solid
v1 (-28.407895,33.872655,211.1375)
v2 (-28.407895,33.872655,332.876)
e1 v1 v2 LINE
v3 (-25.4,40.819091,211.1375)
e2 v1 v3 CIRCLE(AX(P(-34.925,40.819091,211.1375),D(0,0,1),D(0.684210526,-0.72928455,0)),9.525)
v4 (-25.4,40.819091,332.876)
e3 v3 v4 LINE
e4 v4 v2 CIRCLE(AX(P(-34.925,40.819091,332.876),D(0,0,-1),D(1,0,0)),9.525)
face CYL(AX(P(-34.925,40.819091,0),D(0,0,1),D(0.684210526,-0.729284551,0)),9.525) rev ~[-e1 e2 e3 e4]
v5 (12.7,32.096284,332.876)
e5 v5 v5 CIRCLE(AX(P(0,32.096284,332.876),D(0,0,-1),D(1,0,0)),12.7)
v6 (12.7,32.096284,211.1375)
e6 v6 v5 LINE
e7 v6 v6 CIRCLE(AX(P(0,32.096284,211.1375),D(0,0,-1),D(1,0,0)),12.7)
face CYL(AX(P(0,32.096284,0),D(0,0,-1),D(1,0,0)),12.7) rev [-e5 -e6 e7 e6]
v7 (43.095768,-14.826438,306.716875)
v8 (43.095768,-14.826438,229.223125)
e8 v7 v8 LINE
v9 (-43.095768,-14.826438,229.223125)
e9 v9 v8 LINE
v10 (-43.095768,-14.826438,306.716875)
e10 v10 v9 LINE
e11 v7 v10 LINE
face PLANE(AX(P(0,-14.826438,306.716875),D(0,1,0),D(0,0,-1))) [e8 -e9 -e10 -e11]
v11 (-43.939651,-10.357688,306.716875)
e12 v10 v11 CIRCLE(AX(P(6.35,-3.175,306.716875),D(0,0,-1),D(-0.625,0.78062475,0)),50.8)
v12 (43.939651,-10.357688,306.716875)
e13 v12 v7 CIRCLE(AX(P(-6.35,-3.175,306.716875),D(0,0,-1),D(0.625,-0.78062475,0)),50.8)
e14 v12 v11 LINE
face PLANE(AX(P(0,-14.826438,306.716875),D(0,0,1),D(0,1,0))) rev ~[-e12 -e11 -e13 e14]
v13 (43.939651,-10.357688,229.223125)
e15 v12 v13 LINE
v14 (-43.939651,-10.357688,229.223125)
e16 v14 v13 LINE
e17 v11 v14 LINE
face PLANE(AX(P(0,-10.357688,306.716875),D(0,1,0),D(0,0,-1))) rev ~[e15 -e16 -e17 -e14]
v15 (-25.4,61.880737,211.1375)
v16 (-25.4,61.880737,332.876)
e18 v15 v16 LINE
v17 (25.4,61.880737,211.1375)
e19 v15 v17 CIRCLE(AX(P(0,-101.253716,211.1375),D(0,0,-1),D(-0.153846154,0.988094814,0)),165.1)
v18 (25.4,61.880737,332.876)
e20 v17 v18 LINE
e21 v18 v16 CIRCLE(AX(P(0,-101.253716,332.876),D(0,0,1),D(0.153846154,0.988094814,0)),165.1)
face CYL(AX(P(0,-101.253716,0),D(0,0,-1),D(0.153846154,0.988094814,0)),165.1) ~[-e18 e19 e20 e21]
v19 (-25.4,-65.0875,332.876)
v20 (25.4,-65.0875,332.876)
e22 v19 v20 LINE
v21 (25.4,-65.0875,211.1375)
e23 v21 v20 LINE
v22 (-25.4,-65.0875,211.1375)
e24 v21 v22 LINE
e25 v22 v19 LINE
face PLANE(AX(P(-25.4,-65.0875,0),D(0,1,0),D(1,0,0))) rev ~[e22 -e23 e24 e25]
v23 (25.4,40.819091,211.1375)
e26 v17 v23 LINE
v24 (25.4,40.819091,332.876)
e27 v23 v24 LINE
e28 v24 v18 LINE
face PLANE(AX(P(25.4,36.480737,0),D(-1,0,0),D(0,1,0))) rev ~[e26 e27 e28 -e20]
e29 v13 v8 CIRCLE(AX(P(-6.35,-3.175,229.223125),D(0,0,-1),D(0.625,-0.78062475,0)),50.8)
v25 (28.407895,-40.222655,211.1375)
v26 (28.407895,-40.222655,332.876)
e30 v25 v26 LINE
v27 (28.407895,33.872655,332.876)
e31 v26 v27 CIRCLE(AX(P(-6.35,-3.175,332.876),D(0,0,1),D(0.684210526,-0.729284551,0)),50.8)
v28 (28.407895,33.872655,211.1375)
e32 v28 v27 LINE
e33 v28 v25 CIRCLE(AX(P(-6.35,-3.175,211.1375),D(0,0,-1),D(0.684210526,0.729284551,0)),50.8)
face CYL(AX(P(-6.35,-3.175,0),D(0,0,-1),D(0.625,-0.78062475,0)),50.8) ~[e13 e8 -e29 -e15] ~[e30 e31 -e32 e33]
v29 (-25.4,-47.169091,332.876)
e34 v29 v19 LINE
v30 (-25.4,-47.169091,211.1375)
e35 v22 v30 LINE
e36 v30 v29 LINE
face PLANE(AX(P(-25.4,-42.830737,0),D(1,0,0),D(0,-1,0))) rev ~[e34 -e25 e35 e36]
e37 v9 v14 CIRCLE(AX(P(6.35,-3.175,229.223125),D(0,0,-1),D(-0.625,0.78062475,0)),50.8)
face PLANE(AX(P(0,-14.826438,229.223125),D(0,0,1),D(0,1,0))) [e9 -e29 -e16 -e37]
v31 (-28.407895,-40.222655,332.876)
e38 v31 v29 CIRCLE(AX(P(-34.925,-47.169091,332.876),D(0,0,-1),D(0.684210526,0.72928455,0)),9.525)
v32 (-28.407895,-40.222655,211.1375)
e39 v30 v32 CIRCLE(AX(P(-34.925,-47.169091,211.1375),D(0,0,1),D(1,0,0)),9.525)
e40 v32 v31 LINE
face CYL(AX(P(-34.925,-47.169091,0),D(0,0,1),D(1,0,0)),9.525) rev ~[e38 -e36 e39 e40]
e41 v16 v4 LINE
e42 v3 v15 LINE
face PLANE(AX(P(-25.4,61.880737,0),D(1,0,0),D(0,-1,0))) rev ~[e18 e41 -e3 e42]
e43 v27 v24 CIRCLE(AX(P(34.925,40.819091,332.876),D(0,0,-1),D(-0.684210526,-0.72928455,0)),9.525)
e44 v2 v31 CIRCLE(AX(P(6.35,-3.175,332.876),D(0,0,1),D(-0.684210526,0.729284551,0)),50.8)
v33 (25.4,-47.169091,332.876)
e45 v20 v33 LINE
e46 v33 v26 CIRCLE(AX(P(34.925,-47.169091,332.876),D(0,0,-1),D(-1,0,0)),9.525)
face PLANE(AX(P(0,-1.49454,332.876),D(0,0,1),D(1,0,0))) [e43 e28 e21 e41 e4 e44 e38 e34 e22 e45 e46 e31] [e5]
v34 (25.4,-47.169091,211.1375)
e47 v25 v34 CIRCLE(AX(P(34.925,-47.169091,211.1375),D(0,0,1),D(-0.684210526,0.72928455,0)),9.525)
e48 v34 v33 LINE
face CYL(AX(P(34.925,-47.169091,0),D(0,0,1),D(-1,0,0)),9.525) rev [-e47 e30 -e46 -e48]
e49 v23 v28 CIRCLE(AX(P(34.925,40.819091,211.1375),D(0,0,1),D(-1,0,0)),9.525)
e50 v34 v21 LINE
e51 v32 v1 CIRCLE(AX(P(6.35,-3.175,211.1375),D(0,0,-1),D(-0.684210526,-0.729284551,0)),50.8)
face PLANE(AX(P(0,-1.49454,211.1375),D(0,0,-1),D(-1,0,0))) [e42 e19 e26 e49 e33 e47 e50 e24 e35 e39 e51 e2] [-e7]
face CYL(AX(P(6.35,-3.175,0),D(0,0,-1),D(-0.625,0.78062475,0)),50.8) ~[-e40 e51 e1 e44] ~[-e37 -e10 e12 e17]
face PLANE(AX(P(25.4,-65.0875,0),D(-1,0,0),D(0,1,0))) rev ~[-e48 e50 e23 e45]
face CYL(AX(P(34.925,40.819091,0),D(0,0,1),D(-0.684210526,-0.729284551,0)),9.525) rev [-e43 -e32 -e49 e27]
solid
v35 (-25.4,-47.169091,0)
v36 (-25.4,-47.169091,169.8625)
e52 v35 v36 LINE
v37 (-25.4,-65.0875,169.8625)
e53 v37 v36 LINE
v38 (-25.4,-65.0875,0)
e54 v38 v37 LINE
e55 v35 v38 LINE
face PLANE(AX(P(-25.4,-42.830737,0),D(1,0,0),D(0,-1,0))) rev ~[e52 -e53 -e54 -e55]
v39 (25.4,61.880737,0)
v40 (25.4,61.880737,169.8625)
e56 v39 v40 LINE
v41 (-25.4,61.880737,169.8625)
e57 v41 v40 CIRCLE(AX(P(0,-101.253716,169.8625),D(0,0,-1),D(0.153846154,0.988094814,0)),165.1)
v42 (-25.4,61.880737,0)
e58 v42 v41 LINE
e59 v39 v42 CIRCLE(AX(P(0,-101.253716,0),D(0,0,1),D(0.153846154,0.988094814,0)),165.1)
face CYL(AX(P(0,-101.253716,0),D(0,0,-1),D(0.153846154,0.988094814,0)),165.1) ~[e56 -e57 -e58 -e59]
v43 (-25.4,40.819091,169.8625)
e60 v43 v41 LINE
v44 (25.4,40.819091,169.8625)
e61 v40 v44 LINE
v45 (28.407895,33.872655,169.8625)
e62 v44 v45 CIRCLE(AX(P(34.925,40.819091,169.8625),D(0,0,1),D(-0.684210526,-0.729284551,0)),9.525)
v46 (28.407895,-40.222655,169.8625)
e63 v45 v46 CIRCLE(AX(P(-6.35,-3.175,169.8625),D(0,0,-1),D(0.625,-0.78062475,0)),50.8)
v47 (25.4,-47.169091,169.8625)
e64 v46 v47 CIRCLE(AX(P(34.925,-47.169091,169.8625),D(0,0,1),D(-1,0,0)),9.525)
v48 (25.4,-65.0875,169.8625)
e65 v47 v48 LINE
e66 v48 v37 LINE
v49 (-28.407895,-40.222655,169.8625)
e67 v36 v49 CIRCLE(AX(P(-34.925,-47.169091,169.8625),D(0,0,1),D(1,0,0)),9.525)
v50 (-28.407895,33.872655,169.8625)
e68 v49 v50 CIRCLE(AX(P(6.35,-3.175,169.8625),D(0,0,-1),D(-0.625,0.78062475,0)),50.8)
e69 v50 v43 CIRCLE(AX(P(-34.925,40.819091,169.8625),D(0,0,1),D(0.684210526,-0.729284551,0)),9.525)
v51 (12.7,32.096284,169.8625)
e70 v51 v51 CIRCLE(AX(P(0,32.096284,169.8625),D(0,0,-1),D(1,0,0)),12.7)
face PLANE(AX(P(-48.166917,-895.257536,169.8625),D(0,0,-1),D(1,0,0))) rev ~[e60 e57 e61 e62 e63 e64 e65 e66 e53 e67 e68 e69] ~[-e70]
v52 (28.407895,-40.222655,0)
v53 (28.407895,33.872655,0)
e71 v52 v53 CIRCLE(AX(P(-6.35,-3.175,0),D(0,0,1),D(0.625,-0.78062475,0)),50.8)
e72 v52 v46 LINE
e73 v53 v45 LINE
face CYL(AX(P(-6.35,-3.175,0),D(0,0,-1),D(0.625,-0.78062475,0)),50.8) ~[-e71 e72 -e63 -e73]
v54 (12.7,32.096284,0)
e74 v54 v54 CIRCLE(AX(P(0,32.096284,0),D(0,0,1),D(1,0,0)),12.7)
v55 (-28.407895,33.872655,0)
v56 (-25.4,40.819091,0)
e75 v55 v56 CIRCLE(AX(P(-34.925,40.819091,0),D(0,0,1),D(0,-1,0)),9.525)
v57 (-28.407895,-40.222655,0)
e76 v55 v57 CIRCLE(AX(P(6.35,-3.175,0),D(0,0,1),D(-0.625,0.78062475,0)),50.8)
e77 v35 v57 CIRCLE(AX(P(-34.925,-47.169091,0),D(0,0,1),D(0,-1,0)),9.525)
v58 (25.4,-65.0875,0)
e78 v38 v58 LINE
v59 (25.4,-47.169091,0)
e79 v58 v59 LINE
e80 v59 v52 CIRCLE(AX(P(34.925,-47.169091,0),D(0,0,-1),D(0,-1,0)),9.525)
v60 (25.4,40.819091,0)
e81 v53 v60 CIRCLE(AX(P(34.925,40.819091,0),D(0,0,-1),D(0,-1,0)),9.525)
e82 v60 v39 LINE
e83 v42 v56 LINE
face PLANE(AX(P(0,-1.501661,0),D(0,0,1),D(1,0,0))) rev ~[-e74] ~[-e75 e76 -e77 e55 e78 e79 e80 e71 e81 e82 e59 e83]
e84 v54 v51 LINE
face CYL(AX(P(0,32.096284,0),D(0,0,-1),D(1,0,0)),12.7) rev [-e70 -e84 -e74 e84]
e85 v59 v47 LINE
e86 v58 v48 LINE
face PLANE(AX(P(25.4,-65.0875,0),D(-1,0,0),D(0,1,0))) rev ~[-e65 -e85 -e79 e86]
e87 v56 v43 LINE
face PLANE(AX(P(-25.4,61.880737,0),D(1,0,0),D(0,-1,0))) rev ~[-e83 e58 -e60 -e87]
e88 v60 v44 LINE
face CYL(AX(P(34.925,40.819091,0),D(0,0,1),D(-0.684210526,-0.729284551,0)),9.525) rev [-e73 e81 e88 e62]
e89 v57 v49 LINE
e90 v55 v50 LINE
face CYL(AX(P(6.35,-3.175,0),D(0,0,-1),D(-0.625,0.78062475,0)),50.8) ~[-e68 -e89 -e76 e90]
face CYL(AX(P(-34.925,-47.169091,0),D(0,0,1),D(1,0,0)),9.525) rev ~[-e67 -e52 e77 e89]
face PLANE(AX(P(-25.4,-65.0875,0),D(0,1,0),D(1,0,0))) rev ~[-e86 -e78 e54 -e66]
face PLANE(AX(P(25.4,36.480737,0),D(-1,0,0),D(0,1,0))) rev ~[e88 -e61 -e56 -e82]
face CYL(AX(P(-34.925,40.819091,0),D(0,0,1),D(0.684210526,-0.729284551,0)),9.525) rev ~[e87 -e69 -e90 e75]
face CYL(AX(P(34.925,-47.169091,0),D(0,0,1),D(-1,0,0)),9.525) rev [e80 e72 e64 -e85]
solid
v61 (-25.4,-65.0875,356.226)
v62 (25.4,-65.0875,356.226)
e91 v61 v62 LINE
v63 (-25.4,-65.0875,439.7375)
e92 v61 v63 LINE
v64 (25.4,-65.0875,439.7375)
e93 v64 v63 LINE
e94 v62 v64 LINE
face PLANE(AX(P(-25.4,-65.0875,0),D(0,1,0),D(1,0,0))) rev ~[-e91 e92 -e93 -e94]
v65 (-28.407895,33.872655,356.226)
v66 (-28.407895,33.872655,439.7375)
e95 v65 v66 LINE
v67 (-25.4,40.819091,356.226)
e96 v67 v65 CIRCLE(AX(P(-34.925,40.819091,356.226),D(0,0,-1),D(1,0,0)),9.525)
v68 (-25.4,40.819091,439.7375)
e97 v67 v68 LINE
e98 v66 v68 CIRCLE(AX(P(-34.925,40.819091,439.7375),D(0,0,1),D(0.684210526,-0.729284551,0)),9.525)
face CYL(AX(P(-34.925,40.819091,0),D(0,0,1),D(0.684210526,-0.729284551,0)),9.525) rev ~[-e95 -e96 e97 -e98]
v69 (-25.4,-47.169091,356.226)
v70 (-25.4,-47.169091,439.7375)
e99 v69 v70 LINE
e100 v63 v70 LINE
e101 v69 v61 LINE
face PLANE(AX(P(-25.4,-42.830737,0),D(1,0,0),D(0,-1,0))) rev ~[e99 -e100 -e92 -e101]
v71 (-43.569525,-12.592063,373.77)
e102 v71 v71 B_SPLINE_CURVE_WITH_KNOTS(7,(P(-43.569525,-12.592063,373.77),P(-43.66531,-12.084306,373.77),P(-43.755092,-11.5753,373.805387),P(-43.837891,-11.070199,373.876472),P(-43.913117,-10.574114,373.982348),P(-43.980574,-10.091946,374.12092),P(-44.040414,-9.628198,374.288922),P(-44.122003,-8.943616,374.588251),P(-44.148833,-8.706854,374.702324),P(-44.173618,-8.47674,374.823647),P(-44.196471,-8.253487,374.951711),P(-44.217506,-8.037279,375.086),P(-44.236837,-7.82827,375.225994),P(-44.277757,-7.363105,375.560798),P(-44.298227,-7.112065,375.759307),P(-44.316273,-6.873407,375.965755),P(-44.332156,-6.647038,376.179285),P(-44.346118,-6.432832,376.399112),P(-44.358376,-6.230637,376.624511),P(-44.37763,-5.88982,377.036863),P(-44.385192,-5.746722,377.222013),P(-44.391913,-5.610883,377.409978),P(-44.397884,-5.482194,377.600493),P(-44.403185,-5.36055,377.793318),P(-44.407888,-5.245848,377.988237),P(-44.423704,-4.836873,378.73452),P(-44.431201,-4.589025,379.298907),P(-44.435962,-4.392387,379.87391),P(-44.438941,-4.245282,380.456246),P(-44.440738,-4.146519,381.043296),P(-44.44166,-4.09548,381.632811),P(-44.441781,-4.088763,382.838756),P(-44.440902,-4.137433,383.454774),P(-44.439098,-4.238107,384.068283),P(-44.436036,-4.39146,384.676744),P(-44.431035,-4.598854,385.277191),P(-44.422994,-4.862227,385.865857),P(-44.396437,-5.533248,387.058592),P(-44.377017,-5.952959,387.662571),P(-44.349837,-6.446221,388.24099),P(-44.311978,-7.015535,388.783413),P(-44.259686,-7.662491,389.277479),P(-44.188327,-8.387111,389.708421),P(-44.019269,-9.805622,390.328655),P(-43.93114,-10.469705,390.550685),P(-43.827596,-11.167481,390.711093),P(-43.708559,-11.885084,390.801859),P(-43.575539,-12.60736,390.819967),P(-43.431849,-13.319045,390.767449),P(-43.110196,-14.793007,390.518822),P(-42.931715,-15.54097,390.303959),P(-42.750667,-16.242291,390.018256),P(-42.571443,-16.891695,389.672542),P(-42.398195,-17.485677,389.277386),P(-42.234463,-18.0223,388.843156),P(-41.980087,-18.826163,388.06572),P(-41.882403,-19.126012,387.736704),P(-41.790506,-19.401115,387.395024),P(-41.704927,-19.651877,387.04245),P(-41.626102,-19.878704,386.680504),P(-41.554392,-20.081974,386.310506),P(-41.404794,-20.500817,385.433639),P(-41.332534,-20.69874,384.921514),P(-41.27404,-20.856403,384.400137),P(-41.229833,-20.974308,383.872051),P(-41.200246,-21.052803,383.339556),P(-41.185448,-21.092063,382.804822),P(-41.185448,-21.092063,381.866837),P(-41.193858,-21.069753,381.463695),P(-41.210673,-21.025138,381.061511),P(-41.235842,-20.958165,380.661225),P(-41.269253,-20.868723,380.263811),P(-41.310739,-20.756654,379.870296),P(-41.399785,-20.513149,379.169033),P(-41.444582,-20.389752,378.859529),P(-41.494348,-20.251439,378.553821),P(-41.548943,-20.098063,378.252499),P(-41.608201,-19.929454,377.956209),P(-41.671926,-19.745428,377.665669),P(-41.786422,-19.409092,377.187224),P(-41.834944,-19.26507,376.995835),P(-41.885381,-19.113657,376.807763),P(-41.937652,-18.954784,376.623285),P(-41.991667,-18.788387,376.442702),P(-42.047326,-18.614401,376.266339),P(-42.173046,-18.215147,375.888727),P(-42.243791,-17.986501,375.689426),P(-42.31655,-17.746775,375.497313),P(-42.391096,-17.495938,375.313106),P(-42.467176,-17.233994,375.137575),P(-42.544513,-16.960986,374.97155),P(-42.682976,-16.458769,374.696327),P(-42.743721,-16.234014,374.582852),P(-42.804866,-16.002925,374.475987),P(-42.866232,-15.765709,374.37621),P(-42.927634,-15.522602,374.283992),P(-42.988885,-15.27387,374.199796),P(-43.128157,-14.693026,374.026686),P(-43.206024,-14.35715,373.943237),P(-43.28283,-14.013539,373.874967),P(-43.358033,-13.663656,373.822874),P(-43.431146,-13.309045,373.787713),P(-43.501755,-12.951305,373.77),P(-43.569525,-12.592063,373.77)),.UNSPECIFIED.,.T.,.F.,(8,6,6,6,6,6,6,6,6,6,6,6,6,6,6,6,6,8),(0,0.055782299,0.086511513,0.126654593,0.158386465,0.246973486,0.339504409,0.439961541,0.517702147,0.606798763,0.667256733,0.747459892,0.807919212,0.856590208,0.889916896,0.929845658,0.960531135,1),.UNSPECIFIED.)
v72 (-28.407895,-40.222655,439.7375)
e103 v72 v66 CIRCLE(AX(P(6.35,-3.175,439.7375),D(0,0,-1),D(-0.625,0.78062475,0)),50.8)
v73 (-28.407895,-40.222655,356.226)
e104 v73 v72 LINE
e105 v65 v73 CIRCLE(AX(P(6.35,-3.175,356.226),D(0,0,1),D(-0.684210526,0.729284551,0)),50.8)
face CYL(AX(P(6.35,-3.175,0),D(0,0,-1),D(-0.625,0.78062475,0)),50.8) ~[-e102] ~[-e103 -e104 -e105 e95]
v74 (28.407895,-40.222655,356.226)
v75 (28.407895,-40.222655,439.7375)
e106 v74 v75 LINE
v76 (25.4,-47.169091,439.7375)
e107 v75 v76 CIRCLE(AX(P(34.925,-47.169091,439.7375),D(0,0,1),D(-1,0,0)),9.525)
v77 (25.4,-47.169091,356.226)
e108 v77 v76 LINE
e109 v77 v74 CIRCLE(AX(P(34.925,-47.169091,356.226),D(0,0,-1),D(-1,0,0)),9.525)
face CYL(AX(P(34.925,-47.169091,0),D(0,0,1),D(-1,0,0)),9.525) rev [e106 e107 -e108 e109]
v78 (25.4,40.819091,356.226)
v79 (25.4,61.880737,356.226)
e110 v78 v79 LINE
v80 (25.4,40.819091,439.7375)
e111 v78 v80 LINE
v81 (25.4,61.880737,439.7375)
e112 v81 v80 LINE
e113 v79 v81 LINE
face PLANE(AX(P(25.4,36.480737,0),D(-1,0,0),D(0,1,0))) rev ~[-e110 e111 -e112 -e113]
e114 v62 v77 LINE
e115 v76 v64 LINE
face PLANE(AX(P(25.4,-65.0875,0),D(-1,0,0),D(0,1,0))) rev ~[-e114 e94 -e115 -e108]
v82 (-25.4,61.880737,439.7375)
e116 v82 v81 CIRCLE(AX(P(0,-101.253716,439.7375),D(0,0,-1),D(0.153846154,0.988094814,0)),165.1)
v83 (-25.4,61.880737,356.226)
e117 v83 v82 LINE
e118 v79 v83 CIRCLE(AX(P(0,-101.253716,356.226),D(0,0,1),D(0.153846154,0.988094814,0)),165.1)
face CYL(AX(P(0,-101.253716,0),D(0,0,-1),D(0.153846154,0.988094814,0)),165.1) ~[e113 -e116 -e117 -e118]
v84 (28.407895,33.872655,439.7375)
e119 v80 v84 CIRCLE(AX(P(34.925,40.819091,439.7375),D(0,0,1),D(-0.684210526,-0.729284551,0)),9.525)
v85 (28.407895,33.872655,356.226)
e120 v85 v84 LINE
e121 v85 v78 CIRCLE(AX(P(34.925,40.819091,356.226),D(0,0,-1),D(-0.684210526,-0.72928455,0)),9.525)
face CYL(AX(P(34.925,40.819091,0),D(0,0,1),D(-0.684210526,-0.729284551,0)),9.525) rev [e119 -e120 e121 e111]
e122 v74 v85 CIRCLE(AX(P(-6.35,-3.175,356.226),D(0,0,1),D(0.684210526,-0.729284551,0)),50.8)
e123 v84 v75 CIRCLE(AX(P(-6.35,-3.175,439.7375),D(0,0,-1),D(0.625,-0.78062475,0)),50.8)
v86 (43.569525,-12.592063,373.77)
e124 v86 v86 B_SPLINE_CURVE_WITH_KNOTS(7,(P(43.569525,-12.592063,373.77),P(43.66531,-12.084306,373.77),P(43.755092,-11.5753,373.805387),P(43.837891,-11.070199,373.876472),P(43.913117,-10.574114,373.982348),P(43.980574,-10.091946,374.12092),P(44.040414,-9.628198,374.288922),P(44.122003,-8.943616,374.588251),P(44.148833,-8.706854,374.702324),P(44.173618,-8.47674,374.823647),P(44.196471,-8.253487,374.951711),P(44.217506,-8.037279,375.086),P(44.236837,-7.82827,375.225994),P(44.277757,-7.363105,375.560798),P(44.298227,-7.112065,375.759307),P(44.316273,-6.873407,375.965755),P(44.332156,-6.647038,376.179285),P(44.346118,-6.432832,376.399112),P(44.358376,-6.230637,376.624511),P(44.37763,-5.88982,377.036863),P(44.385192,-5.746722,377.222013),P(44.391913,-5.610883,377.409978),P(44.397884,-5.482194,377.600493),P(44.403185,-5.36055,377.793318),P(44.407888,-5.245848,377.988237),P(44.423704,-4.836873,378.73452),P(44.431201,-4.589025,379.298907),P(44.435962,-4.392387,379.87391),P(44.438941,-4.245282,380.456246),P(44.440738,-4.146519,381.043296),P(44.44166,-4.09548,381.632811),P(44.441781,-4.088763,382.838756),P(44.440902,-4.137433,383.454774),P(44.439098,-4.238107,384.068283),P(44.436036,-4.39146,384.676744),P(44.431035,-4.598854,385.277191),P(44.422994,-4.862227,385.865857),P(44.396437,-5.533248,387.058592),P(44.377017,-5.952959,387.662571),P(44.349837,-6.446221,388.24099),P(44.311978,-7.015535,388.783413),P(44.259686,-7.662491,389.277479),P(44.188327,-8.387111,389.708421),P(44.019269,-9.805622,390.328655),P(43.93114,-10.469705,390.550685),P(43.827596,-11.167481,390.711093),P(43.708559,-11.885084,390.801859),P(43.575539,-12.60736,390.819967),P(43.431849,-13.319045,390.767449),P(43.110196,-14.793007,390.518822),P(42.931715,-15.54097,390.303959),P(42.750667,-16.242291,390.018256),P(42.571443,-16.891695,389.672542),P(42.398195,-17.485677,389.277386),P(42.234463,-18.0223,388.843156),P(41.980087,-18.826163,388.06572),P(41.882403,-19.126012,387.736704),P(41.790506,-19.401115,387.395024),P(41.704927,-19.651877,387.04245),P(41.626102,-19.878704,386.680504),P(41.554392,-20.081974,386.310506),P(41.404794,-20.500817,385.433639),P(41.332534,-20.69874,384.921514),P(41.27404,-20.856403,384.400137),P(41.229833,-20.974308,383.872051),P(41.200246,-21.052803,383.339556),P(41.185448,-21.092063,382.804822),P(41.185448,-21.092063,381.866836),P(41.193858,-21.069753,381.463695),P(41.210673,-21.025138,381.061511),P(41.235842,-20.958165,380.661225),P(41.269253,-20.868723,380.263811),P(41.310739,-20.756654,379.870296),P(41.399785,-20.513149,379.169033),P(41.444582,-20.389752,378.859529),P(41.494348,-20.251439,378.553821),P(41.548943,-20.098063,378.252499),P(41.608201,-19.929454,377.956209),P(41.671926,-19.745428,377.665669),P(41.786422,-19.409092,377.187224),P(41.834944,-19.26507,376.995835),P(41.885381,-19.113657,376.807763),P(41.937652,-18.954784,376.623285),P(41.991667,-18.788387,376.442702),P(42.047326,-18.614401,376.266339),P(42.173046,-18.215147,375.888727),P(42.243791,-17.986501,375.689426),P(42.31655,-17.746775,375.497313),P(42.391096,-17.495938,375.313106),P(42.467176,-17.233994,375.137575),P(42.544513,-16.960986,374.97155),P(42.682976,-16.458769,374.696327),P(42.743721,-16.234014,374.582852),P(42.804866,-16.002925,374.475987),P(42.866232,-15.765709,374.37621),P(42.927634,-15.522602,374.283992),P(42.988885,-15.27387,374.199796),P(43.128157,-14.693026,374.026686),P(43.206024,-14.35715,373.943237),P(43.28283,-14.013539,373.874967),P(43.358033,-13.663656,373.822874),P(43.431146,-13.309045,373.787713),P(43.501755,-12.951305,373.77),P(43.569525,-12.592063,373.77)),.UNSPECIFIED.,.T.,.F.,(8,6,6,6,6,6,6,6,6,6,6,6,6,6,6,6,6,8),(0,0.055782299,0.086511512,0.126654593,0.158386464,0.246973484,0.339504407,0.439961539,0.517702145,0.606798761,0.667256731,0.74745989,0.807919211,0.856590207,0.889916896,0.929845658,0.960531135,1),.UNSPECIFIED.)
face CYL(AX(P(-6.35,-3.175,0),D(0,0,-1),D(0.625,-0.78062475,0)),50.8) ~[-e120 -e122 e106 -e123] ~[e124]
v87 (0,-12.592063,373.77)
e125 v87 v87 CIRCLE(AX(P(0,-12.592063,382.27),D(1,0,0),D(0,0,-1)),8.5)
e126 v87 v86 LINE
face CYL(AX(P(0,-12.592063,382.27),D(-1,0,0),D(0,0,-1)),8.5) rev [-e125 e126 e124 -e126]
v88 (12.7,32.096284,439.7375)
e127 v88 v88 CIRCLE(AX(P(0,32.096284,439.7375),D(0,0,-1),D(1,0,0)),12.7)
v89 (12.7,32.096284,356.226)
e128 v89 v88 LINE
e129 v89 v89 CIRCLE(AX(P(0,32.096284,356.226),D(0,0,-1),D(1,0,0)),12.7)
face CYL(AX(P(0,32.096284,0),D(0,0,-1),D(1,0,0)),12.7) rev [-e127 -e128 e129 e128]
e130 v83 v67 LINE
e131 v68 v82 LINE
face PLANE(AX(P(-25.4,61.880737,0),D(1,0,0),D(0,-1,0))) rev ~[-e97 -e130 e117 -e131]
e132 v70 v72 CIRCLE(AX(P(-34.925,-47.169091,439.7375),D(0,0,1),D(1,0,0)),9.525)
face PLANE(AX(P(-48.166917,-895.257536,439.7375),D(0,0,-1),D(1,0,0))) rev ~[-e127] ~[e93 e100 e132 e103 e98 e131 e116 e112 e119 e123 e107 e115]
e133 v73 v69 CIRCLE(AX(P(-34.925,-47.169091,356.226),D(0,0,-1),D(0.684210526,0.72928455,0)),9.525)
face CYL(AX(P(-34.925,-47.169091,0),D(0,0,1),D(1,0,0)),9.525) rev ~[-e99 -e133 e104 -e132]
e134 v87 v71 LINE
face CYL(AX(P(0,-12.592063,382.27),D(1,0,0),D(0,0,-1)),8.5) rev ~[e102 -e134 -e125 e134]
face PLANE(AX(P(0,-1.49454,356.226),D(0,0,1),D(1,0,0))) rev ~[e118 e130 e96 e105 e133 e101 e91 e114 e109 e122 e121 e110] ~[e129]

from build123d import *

# Parameters (mm, degrees)
SKETCH1_R               = 12.7
BOSS_EXTRUDE1_DEPTH     = 711.2
FILLET1_R               = 9.525
SKETCH2_W               = 95.25
SKETCH2_H               = 3.175
CUT_EXTRUDE1_DEPTH      = 1400.048
SKETCH3_R               = 13.346875
SKETCH3_R_2             = 6.746875
SKETCH3_W               = 77.49375
SKETCH3_H               = 4.46875
CUT_EXTRUDE2_DEPTH      = 1400.048
CUT_EXTRUDE2_DEPTH_BACK = 1400.048
SKETCH4_R               = 15.5
SKETCH4_R_2             = 8.5
CUT_EXTRUDE3_DEPTH      = 45.4500001
CUT_EXTRUDE3_DEPTH_BACK = 45.4500001
CUT_EXTRUDE4_DEPTH      = 38.1
CUT_EXTRUDE5_DEPTH      = 23.350000036
SKETCH7_R               = 90.857571738
CUT_EXTRUDE6_DEPTH      = 302.514


with BuildPart() as part:
    # Sketch1 → Boss-Extrude1 (new body)
    with BuildSketch(Plane.XY):
        with BuildLine():
            Line((-25.4, -65.0875), (25.4, -65.0875))
            Line((25.4, -65.0875), (25.4, -42.83073728))
            ThreePointArc((25.4, -42.83073728), (44.45, -3.17499999), (25.4, 36.4807373))
            Line((25.4, 36.4807373), (25.4, 61.8807373))
            ThreePointArc((25.4, 61.8807373), (0, 63.846283551), (-25.4, 61.8807373))
            Line((-25.4, 61.8807373), (-25.4, 36.4807373))
            ThreePointArc((-25.4, 36.4807373), (-44.45, -3.17499999), (-25.4, -42.83073728))
            Line((-25.4, -42.83073728), (-25.4, -65.0875))
        make_face()
        with Locations((0, 32.096283551)):
            Circle(SKETCH1_R, mode=Mode.SUBTRACT)
    extrude(amount=BOSS_EXTRUDE1_DEPTH)

    # Fillet1
    fillet1_edges = [part.edges().sort_by_distance(p)[0] for p in [
        (25.4, 36.4807373, 355.6),
        (25.4, -42.83073728, 355.6),
        (-25.4, -42.83073728, 355.6),
        (-25.4, 36.4807373, 355.6),
    ]]
    fillet(fillet1_edges, radius=FILLET1_R)

    # Sketch2 → Cut-Extrude1 (cut)
    with BuildSketch(Plane(origin=(-606.966916913, -895.257535636, -922.36020311), x_dir=(1, 0, 0), z_dir=(0, 1, 0))):
        with Locations((606.425, -1093.81020311)):
            Rectangle(SKETCH2_W, SKETCH2_H)
        with Locations((606.425, -1363.68520311)):
            Rectangle(SKETCH2_W, SKETCH2_H)
    extrude(amount=CUT_EXTRUDE1_DEPTH, mode=Mode.SUBTRACT)

    # Sketch3 → Cut-Extrude2 (cut, two sides)
    with BuildSketch(Plane(origin=(0, 0, 0), x_dir=(0, 0, -1), z_dir=(1, 0, 0))) as cut_extrude2_sk:
        with Locations((-191.770000017, -12.5920627)):
            Circle(SKETCH3_R)
        with Locations((-382.270000017, -12.5920627)):
            Circle(SKETCH3_R_2)
        with Locations((-267.97, -12.5920627)):
            Rectangle(SKETCH3_W, SKETCH3_H)
    extrude(amount=CUT_EXTRUDE2_DEPTH, mode=Mode.SUBTRACT)
    extrude(cut_extrude2_sk.sketch, amount=-CUT_EXTRUDE2_DEPTH_BACK, mode=Mode.SUBTRACT)

    # Sketch4 → Cut-Extrude3 (cut, two sides)
    with BuildSketch(Plane(origin=(0, 0, 0), x_dir=(0, 0, -1), z_dir=(1, 0, 0))) as cut_extrude3_sk:
        with Locations((-191.770000017, -12.5920627)):
            Circle(SKETCH4_R)
        with Locations((-382.270000017, -12.5920627)):
            Circle(SKETCH4_R_2)
    extrude(amount=CUT_EXTRUDE3_DEPTH, mode=Mode.SUBTRACT)
    extrude(cut_extrude3_sk.sketch, amount=-CUT_EXTRUDE3_DEPTH_BACK, mode=Mode.SUBTRACT)

    # Sketch5 → Cut-Extrude4 (cut)
    with BuildSketch(Plane(origin=(0, 0, 173.0375), x_dir=(-1, 0, 0), z_dir=(0, 0, -1))):
        with BuildLine():
            Line((25.4, 40.819090522), (25.4, 61.8807373))
            ThreePointArc((25.4, 61.8807373), (0, 63.846283551), (-25.4, 61.8807373))
            Line((-25.4, 61.8807373), (-25.4, 40.819090522))
            ThreePointArc((-25.4, 40.819090522), (-26.18426054, 37.034239312), (-28.407894737, 33.872655178))
            ThreePointArc((-28.407894737, 33.872655178), (-44.45, -3.17499999), (-28.407894737, -40.222655158))
            ThreePointArc((-28.407894737, -40.222655158), (-26.18426054, -43.384239292), (-25.4, -47.169090502))
            Line((-25.4, -47.169090502), (-25.4, -65.0875))
            Line((-25.4, -65.0875), (25.4, -65.0875))
            Line((25.4, -65.0875), (25.4, -47.169090502))
            ThreePointArc((25.4, -47.169090502), (26.18426054, -43.384239292), (28.407894737, -40.222655158))
            ThreePointArc((28.407894737, -40.222655158), (44.45, -3.17499999), (28.407894737, 33.872655178))
            ThreePointArc((28.407894737, 33.872655178), (26.18426054, 37.034239312), (25.4, 40.819090522))
        make_face()
    extrude(amount=-CUT_EXTRUDE4_DEPTH, mode=Mode.SUBTRACT)

    # Sketch6 → Cut-Extrude5 (cut)
    with BuildSketch(Plane.XY.offset(356.226000018)):
        with BuildLine():
            Line((-25.4, 61.8807373), (-25.4, 40.819090522))
            ThreePointArc((-25.4, 40.819090522), (-26.18426054, 37.034239312), (-28.407894737, 33.872655178))
            ThreePointArc((-28.407894737, 33.872655178), (-44.45, -3.17499999), (-28.407894737, -40.222655158))
            ThreePointArc((-28.407894737, -40.222655158), (-26.18426054, -43.384239292), (-25.4, -47.169090502))
            Line((-25.4, -47.169090502), (-25.4, -65.0875))
            Line((-25.4, -65.0875), (25.4, -65.0875))
            Line((25.4, -65.0875), (25.4, -47.169090502))
            ThreePointArc((25.4, -47.169090502), (26.18426054, -43.384239292), (28.407894737, -40.222655158))
            ThreePointArc((28.407894737, -40.222655158), (44.45, -3.17499999), (28.407894737, 33.872655178))
            ThreePointArc((28.407894737, 33.872655178), (26.18426054, 37.034239312), (25.4, 40.819090522))
            Line((25.4, 40.819090522), (25.4, 61.8807373))
            ThreePointArc((25.4, 61.8807373), (0, 63.846283551), (-25.4, 61.8807373))
        make_face()
    extrude(amount=-CUT_EXTRUDE5_DEPTH, mode=Mode.SUBTRACT)

    # Sketch7 → Cut-Extrude6 (cut)
    with BuildSketch(Plane(origin=(0, 0, 442.9125), x_dir=(-1, 0, 0), z_dir=(0, 0, -1))):
        Circle(SKETCH7_R)
    extrude(amount=-CUT_EXTRUDE6_DEPTH, mode=Mode.SUBTRACT)


solid = part.part
